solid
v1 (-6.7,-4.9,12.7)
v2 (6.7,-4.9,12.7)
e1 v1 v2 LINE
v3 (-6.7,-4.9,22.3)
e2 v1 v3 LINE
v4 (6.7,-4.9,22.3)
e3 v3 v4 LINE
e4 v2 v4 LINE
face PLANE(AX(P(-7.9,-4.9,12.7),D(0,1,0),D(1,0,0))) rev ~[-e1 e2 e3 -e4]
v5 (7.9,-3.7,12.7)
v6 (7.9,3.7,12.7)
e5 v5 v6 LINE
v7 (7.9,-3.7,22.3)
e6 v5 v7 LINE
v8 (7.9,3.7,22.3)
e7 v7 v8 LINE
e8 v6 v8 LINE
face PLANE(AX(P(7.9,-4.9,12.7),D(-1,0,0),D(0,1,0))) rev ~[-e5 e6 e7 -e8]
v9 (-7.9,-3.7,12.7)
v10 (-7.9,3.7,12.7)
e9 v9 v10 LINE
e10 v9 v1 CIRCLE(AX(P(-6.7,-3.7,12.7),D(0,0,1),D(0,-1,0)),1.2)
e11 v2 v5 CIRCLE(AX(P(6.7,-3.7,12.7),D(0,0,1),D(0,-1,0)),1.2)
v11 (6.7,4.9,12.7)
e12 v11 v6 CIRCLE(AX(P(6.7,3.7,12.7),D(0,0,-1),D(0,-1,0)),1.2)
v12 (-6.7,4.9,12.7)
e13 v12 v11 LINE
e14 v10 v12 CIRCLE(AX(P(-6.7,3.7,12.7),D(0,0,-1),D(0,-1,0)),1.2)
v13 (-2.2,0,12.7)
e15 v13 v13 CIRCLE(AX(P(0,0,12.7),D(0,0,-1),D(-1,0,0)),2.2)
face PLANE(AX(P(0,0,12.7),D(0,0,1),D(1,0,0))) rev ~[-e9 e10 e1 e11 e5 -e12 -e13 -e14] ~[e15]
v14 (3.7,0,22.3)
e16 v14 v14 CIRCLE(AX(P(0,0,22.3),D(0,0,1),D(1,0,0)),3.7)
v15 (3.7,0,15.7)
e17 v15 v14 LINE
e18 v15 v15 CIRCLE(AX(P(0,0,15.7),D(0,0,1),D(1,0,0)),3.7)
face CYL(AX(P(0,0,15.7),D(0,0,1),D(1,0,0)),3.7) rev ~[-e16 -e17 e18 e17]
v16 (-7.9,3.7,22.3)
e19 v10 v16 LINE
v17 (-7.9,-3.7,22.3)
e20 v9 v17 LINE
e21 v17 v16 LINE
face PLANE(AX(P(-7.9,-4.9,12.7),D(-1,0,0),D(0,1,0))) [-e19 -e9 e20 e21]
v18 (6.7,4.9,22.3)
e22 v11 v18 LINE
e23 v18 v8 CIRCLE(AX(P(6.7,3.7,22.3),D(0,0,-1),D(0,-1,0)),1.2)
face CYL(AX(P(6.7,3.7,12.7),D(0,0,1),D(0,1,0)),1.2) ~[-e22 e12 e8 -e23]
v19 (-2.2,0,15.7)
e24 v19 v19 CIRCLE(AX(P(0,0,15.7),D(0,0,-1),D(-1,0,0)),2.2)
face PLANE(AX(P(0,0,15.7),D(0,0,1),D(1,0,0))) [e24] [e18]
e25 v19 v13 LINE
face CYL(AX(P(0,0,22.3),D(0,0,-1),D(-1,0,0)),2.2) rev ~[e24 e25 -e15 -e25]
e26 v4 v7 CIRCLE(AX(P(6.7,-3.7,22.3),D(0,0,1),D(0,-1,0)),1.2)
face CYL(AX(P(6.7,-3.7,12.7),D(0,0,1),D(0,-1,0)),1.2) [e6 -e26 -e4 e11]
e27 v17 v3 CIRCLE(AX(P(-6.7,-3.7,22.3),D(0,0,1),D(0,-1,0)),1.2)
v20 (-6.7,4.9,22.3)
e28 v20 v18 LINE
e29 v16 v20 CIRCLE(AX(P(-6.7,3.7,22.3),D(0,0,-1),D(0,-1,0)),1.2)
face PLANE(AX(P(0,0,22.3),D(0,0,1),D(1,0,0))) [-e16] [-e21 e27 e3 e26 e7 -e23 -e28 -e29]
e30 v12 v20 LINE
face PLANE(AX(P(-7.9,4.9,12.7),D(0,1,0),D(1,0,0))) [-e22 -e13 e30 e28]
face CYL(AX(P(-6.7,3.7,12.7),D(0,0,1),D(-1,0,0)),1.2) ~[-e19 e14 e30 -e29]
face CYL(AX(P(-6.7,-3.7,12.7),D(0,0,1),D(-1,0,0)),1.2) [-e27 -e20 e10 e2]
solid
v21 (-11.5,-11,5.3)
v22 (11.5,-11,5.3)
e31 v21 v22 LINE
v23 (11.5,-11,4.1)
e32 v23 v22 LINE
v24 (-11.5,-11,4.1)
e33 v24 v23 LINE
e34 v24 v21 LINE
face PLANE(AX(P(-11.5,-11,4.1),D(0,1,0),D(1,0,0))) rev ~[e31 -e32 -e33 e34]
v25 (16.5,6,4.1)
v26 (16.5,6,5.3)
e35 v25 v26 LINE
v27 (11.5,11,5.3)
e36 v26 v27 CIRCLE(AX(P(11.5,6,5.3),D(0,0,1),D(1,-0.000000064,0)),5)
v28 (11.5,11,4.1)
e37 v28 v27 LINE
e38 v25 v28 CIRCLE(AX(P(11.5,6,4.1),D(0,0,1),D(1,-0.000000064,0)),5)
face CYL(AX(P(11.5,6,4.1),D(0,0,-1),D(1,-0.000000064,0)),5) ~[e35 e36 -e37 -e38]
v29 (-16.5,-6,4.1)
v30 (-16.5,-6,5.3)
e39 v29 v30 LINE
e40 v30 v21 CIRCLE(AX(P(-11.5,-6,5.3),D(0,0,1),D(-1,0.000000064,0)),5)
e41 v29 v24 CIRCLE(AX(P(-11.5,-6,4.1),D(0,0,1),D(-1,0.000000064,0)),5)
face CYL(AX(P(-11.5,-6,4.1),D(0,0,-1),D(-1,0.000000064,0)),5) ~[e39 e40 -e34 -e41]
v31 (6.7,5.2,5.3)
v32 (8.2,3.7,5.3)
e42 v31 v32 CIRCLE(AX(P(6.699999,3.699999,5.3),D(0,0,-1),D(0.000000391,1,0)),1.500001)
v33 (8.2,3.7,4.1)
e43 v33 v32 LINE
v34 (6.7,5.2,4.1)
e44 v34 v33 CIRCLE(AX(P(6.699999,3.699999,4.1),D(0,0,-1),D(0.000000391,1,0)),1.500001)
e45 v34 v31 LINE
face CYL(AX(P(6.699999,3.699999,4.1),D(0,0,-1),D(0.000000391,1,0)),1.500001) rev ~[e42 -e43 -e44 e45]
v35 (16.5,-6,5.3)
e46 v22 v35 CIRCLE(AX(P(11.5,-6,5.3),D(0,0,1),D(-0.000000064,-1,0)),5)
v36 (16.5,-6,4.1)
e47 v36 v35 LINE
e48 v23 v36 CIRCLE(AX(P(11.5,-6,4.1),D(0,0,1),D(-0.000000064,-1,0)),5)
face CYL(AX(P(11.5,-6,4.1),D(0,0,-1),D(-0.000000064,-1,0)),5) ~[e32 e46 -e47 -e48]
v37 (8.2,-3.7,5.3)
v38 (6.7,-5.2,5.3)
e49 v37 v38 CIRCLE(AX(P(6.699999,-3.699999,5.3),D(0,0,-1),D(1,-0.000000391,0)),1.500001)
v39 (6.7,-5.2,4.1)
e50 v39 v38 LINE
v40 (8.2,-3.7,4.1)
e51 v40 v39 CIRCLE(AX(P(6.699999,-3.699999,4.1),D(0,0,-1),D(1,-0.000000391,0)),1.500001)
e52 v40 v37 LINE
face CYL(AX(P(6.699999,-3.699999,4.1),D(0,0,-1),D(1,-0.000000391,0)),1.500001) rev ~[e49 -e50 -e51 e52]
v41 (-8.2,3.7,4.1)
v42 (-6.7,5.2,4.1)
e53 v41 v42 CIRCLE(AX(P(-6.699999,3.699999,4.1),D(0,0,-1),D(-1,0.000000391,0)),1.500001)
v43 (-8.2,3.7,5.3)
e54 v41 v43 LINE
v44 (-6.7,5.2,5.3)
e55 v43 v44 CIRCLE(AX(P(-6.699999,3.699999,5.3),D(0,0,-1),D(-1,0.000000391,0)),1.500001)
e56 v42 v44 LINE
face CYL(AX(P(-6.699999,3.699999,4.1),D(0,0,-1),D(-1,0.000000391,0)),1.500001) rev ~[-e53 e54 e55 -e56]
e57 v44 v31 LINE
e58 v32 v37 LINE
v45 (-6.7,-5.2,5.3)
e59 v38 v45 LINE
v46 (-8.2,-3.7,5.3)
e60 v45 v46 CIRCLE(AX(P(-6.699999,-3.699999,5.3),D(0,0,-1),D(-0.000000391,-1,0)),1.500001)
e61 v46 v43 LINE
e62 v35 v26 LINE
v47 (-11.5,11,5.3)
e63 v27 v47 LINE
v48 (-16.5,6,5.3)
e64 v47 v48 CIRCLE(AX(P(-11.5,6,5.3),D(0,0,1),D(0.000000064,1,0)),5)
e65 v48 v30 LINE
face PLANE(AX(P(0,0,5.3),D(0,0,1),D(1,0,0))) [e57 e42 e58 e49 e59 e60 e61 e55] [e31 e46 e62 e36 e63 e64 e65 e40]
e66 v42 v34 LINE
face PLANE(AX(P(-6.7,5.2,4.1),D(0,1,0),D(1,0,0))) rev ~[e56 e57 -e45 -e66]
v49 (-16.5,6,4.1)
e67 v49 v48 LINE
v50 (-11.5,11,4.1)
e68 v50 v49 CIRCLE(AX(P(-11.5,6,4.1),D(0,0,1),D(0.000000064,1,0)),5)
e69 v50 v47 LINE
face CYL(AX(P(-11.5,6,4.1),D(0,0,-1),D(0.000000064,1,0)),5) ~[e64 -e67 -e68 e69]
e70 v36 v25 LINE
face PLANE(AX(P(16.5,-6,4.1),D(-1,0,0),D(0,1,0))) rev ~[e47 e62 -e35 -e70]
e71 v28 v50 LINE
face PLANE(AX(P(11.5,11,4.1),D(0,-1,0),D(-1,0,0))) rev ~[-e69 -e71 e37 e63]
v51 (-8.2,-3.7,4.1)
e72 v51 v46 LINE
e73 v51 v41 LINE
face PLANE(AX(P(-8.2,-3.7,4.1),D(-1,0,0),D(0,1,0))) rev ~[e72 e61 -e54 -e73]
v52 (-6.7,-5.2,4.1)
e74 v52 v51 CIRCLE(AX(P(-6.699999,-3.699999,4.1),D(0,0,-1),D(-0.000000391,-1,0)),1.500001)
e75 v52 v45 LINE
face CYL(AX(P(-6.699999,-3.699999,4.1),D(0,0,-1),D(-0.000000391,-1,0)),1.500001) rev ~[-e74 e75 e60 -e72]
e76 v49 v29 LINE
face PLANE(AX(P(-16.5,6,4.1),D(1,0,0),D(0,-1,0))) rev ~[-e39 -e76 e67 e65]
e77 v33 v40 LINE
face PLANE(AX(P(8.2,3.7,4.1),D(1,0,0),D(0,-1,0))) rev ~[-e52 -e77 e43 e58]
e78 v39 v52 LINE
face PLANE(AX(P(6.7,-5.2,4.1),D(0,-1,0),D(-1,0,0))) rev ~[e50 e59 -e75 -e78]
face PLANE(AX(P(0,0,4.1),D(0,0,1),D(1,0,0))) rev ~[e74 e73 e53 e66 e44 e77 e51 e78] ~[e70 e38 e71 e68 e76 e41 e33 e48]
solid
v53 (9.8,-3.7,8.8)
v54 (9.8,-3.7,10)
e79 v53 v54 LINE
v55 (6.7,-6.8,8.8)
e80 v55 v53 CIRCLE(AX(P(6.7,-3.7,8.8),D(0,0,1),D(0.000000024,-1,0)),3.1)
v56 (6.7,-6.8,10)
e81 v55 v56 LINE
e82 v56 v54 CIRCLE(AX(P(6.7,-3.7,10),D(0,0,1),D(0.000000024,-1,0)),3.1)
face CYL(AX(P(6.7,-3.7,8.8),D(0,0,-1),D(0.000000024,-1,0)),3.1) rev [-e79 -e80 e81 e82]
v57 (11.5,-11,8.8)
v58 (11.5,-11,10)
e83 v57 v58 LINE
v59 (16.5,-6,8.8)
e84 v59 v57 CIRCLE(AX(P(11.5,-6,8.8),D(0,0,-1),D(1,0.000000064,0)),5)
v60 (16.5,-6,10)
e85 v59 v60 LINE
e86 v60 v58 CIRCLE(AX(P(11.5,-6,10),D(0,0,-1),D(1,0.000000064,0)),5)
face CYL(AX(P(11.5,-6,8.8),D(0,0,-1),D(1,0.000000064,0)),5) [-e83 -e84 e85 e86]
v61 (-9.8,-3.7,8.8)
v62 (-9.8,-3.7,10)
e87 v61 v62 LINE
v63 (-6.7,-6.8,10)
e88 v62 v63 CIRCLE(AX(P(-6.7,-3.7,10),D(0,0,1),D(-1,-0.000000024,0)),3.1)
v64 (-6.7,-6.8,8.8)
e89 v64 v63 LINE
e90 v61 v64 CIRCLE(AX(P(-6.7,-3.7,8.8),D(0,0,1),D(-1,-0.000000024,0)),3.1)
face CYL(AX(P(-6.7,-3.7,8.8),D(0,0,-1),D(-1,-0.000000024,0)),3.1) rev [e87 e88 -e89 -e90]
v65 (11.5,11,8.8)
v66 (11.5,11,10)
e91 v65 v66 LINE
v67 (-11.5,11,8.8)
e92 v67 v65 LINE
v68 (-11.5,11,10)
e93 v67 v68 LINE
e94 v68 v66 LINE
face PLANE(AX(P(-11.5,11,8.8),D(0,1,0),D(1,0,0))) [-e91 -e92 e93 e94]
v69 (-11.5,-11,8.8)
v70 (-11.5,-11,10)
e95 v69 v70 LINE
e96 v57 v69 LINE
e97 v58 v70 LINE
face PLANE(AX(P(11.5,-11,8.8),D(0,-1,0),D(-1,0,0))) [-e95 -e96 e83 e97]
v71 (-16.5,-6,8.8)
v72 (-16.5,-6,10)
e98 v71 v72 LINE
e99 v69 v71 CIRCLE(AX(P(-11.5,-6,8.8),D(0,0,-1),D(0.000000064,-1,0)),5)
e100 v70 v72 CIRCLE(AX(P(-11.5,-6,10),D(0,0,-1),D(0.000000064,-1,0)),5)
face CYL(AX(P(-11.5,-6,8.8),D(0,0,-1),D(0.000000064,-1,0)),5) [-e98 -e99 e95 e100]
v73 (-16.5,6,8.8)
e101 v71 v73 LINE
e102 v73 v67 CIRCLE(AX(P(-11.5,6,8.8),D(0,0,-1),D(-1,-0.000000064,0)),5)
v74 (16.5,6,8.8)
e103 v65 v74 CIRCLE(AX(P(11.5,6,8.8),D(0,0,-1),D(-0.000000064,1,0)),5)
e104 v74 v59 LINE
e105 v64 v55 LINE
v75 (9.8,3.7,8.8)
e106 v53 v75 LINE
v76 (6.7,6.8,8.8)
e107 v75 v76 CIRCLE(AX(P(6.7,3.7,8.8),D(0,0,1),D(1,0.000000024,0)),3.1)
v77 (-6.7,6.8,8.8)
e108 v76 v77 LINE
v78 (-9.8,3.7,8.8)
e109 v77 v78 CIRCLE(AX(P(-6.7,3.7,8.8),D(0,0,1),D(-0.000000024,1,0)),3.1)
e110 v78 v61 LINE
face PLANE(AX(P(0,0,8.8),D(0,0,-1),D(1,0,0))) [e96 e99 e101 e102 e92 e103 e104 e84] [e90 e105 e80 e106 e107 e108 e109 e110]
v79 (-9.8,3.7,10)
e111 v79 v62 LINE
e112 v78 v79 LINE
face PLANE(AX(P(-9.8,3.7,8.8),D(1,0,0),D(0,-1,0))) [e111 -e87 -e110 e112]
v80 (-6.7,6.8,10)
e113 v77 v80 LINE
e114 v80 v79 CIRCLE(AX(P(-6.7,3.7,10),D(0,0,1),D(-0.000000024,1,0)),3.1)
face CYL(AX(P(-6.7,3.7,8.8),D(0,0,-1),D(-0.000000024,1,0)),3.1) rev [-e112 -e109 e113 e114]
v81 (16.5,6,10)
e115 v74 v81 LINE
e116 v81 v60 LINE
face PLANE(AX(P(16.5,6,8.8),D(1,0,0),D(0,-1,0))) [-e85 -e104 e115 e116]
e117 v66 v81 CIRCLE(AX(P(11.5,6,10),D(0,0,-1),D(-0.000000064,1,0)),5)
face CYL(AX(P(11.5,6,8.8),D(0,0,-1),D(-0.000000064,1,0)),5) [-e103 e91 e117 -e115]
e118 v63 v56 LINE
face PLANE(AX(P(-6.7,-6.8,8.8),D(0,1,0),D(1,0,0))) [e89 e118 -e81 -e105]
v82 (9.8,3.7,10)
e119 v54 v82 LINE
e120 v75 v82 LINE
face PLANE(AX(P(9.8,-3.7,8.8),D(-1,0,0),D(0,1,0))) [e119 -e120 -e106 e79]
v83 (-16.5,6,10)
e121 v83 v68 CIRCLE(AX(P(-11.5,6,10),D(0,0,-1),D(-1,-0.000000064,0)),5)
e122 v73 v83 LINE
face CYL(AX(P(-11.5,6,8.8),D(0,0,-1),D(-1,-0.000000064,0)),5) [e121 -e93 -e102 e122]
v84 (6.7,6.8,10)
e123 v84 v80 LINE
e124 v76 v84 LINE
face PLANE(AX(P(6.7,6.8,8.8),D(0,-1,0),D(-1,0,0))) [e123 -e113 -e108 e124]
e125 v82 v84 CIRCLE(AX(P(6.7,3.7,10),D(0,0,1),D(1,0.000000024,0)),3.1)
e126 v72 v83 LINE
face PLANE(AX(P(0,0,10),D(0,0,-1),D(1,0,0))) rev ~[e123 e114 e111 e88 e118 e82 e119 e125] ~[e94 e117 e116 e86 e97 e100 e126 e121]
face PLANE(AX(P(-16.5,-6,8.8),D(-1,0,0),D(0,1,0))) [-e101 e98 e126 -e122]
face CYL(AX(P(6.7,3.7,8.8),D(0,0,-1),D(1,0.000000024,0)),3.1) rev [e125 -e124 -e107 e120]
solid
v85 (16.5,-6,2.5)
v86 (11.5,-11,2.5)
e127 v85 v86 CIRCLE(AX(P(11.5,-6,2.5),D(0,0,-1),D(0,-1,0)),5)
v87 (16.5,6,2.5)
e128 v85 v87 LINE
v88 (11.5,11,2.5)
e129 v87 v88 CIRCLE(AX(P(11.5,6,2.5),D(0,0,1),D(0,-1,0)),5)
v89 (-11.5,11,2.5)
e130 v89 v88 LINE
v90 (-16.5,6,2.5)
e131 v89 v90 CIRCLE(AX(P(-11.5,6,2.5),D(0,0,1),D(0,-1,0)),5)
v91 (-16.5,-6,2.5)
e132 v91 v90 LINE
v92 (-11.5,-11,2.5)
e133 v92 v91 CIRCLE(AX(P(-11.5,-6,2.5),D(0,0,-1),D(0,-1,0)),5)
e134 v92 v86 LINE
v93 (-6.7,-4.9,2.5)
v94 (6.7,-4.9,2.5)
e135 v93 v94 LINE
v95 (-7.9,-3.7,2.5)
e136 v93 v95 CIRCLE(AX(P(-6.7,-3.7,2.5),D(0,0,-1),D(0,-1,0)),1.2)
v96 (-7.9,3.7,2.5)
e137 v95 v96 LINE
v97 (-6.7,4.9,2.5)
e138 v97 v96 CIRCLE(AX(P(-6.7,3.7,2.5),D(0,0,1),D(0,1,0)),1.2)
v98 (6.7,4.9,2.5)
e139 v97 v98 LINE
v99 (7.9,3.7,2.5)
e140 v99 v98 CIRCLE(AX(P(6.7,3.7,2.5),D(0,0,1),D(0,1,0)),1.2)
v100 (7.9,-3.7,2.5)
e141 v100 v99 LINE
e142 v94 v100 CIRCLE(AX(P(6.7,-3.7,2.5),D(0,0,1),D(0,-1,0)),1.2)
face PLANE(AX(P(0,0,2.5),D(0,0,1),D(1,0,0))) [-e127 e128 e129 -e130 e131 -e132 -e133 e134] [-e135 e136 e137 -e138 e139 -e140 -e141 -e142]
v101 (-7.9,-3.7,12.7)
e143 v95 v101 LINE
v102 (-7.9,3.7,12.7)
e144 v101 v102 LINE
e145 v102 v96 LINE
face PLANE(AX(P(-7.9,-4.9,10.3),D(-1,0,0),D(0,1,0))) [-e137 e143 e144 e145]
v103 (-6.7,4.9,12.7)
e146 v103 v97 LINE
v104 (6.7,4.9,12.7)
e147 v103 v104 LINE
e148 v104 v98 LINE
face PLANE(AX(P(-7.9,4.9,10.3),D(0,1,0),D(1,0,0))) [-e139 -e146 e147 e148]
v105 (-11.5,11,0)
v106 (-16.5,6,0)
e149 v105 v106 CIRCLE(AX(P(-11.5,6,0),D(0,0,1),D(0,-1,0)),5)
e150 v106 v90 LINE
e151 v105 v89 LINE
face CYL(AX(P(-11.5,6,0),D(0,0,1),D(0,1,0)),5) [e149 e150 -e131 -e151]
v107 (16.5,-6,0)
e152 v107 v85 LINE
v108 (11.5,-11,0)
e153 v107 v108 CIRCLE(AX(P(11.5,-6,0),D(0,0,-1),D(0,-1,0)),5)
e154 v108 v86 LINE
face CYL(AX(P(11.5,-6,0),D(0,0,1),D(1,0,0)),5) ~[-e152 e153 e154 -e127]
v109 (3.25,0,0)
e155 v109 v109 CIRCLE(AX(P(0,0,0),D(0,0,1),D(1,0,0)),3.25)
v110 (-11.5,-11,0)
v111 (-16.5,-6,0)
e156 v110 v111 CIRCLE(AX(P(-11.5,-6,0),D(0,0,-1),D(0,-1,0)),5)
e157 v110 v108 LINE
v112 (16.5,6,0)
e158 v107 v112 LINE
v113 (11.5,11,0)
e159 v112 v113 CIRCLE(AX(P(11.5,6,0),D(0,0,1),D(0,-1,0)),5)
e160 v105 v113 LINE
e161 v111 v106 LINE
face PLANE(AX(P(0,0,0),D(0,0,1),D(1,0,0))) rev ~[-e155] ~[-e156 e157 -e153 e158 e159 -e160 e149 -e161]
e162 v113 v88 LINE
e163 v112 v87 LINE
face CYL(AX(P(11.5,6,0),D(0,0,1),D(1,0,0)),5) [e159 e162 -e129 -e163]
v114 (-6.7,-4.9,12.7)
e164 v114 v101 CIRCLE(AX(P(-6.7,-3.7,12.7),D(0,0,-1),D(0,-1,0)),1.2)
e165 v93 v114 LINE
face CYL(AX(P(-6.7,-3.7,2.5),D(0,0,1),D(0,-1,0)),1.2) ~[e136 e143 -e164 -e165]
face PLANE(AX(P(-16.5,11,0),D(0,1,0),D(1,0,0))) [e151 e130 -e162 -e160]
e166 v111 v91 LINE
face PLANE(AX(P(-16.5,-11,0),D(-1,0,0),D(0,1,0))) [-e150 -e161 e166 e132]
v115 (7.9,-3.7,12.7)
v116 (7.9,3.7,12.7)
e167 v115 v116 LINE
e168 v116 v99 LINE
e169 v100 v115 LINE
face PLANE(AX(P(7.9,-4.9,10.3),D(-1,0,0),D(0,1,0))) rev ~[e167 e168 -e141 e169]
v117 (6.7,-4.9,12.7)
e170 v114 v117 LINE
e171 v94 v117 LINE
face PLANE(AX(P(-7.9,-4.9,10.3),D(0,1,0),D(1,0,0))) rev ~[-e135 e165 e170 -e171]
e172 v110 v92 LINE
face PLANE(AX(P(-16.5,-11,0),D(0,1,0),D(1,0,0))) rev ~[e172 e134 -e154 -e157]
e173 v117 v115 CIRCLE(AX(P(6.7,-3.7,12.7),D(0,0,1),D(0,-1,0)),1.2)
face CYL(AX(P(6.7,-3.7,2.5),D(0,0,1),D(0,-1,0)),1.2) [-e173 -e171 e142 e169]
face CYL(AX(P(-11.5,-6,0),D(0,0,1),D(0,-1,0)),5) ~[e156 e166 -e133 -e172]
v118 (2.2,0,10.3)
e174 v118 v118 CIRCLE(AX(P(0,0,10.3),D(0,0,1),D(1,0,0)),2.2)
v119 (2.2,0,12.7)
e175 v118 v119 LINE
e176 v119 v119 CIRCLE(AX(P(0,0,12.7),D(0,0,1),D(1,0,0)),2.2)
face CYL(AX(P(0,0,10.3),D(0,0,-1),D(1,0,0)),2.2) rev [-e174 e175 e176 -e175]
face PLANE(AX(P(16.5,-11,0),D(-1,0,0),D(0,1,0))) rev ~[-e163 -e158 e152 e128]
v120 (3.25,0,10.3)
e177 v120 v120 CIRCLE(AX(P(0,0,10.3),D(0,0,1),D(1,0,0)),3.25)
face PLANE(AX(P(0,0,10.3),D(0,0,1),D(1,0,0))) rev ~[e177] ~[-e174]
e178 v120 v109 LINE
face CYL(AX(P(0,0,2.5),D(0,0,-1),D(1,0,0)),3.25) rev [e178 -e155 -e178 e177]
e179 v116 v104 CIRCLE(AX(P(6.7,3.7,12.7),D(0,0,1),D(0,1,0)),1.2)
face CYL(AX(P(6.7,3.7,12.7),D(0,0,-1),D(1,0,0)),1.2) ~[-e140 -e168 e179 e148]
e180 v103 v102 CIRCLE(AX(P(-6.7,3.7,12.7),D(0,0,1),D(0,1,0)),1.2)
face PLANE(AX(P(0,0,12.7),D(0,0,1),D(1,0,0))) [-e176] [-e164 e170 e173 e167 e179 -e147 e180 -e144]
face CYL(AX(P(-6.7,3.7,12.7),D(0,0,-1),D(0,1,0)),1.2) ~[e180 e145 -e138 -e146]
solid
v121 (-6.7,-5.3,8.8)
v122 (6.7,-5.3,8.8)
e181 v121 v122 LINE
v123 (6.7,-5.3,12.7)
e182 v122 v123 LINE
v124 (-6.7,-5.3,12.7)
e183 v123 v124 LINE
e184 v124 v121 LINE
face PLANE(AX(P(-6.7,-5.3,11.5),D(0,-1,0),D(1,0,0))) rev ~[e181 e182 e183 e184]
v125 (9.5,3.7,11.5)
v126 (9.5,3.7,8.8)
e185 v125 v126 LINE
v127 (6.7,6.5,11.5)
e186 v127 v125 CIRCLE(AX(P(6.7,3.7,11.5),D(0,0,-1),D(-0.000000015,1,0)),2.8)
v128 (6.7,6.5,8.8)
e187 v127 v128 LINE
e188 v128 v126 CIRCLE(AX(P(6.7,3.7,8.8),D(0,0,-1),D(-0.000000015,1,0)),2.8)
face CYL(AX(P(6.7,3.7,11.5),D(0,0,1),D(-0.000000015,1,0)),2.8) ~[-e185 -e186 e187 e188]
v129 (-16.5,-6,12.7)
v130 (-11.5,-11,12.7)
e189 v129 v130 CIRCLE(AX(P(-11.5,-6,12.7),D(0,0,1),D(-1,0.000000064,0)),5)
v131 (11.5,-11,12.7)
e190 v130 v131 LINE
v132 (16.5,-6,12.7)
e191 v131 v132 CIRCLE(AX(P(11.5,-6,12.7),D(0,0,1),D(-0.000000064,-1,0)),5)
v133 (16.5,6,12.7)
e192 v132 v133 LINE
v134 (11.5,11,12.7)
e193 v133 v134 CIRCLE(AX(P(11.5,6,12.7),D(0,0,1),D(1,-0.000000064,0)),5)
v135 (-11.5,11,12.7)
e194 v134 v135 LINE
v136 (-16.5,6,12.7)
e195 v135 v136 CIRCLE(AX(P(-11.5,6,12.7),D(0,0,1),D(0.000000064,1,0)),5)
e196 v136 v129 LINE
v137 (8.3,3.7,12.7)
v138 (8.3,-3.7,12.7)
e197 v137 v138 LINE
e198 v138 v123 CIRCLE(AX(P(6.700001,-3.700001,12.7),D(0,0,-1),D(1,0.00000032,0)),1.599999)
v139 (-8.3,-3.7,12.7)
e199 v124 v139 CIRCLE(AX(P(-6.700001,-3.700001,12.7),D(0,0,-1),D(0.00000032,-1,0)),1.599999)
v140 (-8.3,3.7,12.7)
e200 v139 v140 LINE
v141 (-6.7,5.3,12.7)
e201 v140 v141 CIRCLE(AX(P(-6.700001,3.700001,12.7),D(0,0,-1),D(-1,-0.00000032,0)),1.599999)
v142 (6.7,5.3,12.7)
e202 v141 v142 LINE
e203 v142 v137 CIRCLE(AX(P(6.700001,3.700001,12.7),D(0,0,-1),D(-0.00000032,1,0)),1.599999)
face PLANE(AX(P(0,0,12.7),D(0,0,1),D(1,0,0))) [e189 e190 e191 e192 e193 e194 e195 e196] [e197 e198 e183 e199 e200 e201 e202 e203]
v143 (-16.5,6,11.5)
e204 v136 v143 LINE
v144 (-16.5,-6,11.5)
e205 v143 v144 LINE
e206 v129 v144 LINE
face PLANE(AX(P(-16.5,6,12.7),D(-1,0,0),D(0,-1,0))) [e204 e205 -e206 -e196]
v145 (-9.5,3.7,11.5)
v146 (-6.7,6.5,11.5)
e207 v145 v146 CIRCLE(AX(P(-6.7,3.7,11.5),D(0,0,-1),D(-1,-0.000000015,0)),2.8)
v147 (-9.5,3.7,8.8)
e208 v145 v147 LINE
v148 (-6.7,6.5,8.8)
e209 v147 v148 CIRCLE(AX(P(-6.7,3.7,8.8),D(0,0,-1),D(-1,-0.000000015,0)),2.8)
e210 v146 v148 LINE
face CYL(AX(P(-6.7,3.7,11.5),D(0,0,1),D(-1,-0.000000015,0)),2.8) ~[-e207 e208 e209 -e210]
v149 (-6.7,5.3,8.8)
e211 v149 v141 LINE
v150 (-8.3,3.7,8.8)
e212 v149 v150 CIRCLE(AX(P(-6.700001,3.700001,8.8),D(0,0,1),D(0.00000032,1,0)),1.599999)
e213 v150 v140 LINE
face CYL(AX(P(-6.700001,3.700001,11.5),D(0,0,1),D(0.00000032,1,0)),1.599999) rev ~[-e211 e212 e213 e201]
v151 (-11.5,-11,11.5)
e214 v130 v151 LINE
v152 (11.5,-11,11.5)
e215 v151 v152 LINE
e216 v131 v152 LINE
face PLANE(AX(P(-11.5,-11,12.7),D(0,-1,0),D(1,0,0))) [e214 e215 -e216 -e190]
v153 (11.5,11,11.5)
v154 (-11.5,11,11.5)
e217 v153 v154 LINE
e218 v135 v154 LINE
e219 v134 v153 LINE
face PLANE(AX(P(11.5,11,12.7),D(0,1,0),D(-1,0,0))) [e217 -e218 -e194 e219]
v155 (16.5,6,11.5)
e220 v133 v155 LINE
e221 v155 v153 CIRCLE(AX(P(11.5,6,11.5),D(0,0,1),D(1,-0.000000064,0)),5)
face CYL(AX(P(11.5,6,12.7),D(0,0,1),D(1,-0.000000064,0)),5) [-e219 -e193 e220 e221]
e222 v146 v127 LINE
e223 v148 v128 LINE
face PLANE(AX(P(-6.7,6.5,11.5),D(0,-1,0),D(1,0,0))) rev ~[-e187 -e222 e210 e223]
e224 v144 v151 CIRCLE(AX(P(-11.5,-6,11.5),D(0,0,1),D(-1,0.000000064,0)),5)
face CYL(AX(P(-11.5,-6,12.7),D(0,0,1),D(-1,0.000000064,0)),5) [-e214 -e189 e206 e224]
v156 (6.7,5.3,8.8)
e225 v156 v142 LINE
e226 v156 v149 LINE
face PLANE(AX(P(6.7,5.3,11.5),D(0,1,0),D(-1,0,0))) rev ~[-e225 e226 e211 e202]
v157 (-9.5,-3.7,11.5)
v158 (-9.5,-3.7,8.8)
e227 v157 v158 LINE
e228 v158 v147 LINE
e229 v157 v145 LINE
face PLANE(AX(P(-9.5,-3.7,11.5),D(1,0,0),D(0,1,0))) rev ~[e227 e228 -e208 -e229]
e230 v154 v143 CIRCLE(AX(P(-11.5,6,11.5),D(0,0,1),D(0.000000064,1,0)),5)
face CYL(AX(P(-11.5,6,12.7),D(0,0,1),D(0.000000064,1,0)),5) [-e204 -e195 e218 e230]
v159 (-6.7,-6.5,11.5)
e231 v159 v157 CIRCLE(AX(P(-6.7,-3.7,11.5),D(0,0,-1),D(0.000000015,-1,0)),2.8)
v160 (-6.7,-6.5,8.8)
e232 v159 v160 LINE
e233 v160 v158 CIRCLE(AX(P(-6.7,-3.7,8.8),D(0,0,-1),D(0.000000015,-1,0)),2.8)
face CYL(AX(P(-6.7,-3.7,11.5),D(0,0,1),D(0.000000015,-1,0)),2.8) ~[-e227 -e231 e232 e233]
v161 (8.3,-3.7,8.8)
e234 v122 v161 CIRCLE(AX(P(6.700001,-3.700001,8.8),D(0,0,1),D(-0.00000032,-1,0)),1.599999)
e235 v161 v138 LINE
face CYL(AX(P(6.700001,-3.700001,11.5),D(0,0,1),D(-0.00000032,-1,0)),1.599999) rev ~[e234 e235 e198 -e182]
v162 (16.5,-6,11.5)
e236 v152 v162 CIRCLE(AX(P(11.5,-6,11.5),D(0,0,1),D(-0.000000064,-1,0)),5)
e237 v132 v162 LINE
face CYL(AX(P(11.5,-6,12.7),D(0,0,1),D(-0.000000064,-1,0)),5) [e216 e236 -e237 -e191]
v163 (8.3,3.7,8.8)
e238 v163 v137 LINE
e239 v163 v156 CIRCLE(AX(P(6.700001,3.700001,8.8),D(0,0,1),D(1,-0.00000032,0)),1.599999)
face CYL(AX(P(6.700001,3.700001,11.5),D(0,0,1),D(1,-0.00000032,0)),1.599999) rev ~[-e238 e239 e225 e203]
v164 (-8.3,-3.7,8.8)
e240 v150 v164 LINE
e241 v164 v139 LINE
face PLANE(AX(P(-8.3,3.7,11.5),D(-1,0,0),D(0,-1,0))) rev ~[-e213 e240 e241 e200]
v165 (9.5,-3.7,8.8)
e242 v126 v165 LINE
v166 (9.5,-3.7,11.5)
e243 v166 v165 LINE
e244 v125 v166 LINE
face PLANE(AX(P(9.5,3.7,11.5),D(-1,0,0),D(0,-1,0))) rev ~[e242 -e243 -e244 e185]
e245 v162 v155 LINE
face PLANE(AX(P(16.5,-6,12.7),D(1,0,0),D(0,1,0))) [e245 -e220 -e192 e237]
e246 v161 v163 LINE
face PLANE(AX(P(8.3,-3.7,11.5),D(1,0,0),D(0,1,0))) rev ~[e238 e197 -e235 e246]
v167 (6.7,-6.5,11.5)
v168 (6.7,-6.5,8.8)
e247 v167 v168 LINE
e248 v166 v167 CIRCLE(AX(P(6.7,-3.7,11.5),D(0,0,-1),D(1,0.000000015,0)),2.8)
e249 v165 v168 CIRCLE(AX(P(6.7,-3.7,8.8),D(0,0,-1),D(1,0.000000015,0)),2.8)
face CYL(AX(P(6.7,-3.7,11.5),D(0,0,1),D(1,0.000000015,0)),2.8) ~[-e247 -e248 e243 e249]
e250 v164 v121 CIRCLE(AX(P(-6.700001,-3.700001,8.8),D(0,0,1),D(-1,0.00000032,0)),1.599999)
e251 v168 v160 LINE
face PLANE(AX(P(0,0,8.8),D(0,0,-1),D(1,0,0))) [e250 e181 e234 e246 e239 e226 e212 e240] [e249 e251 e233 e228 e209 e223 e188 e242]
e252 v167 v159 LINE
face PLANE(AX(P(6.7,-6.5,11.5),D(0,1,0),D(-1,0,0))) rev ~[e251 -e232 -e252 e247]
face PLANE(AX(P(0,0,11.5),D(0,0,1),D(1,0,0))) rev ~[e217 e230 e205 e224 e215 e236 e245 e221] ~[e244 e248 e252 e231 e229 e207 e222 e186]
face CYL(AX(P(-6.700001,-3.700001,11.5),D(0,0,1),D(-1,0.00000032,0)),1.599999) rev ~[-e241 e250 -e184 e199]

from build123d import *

# Parameters (mm, degrees)
F0_W           = 33
F0_H           = 22
F0_R           = 3.25
F1_DEPTH       = 2.5
F2_W           = 15.8
F2_H           = 9.8
F2_R           = 3.25
F3_DEPTH       = 7.8
F4_W           = 15.8
F4_H           = 9.8
F4_R           = 2.2
F5_DEPTH       = 2.4
F6_W           = 15.8
F6_H           = 9.8
F7_DEPTH       = 9.6
F9_D           = 4.4
F9_CBORE_D     = 7.4
F9_CBORE_DEPTH = 6.6
F10_R          = 5
F11_R          = 1.2
F11_2_R        = 1.2
F13_DEPTH      = 1.2
F15_DEPTH      = 2.7
F17_DEPTH      = 1.2
F20_DEPTH      = 1.2


with BuildPart() as f1:
    # F0 (on Top) → F1 (new body)
    with BuildSketch(Plane.XY):
        Rectangle(F0_W, F0_H)
        Circle(F0_R, mode=Mode.SUBTRACT)
    extrude(amount=F1_DEPTH)

    # F2 (on face) → F3 (join)
    with BuildSketch(Plane.XY.offset(2.5)):
        Rectangle(F2_W, F2_H)
        Circle(F2_R, mode=Mode.SUBTRACT)
    extrude(amount=F3_DEPTH)

    # F4 (on face) → F5 (join)
    with BuildSketch(Plane.XY.offset(10.3)):
        Rectangle(F4_W, F4_H)
        Circle(F4_R, mode=Mode.SUBTRACT)
    extrude(amount=F5_DEPTH)

    # F10
    f10_edges = [f1.edges().sort_by_distance(p)[0] for p in [
        (16.5, -11, 1.25),
        (16.5, 11, 1.25),
        (-16.5, -11, 1.25),
        (-16.5, 11, 1.25),
    ]]
    fillet(f10_edges, radius=F10_R)

    # F11
    f11_edges = [f1.edges().sort_by_distance(p)[0] for p in [
        (-7.9, 4.9, 7.6),
        (-7.9, -4.9, 7.6),
        (7.9, 4.9, 7.6),
        (7.9, -4.9, 7.6),
    ]]
    fillet(f11_edges, radius=F11_R)


with BuildPart() as f7:
    # F6 (on face) → F7 (new body)
    with BuildSketch(Plane.XY.offset(12.7)):
        Rectangle(F6_W, F6_H)
    extrude(amount=F7_DEPTH)

    # F9 (through all)
    with Locations(Plane.XY.offset(22.3)):
        with Locations((0, 0)):
            CounterBoreHole(F9_D / 2, F9_CBORE_D / 2, F9_CBORE_DEPTH)

    # F11#2
    f11_2_edges = [f7.edges().sort_by_distance(p)[0] for p in [
        (7.9, 4.9, 17.5),
        (7.9, -4.9, 17.5),
        (-7.9, 4.9, 17.5),
        (-7.9, -4.9, 17.5),
    ]]
    fillet(f11_2_edges, radius=F11_2_R)


with BuildPart() as f13:
    # F12 (on face) → F13 (new body)
    with BuildSketch(Plane.XY.offset(12.7)):
        with BuildLine():
            Line((11.5, 11), (-11.5, 11))
            ThreePointArc((-11.5, 11), (-15.035534, 9.535534), (-16.5, 6))
            Line((-16.5, 6), (-16.5, -6))
            ThreePointArc((-16.5, -6), (-15.035534, -9.535534), (-11.5, -11))
            Line((-11.5, -11), (11.5, -11))
            ThreePointArc((11.5, -11), (15.035534, -9.535534), (16.5, -6))
            Line((16.5, -6), (16.5, 6))
            ThreePointArc((16.5, 6), (15.035534, 9.535534), (11.5, 11))
        make_face()
        with BuildLine():
            Line((-6.7, 5.3), (6.7, 5.3))
            ThreePointArc((6.7, 5.3), (7.831371, 4.831371), (8.3, 3.7))
            Line((8.3, 3.7), (8.3, -3.7))
            ThreePointArc((8.3, -3.7), (7.831371, -4.831371), (6.7, -5.3))
            Line((6.7, -5.3), (-6.7, -5.3))
            ThreePointArc((-6.7, -5.3), (-7.831371, -4.831371), (-8.3, -3.7))
            Line((-8.3, -3.7), (-8.3, 3.7))
            ThreePointArc((-8.3, 3.7), (-7.831371, 4.831371), (-6.7, 5.3))
        make_face(mode=Mode.SUBTRACT)
    extrude(amount=-F13_DEPTH)

    # F14 (on face) → F15 (join)
    with BuildSketch(Plane(origin=(0, 0, 11.5), x_dir=(1, 0, 0), z_dir=(0, 0, -1))):
        with BuildLine():
            ThreePointArc((-6.7, 6.5), (-8.679899, 5.679899), (-9.5, 3.7))
            Line((-9.5, 3.7), (-9.5, -3.7))
            ThreePointArc((-9.5, -3.7), (-8.679899, -5.679899), (-6.7, -6.5))
            Line((-6.7, -6.5), (6.7, -6.5))
            ThreePointArc((6.7, -6.5), (8.679899, -5.679899), (9.5, -3.7))
            Line((9.5, -3.7), (9.5, 3.7))
            ThreePointArc((9.5, 3.7), (8.679899, 5.679899), (6.7, 6.5))
            Line((6.7, 6.5), (-6.7, 6.5))
        make_face()
        with BuildLine():
            Line((-6.7, 5.3), (6.7, 5.3))
            ThreePointArc((6.7, 5.3), (7.831371, 4.831371), (8.3, 3.7))
            Line((8.3, 3.7), (8.3, -3.7))
            ThreePointArc((8.3, -3.7), (7.831371, -4.831371), (6.7, -5.3))
            Line((6.7, -5.3), (-6.7, -5.3))
            ThreePointArc((-6.7, -5.3), (-7.831371, -4.831371), (-8.3, -3.7))
            Line((-8.3, -3.7), (-8.3, 3.7))
            ThreePointArc((-8.3, 3.7), (-7.831371, 4.831371), (-6.7, 5.3))
        make_face(mode=Mode.SUBTRACT)
    extrude(amount=F15_DEPTH)


with BuildPart() as f17:
    # F16 (on face) → F17 (new body)
    with BuildSketch(Plane(origin=(0, 0, 8.8), x_dir=(1, 0, 0), z_dir=(0, 0, -1))):
        with BuildLine():
            ThreePointArc((-11.5, 11), (-15.035534, 9.535534), (-16.5, 6))
            Line((-16.5, 6), (-16.5, -6))
            ThreePointArc((-16.5, -6), (-15.035534, -9.535534), (-11.5, -11))
            Line((-11.5, -11), (11.5, -11))
            ThreePointArc((11.5, -11), (15.035534, -9.535534), (16.5, -6))
            Line((16.5, -6), (16.5, 6))
            ThreePointArc((16.5, 6), (15.035534, 9.535534), (11.5, 11))
            Line((11.5, 11), (-11.5, 11))
        make_face()
        with BuildLine():
            Line((-6.7, 6.8), (6.7, 6.8))
            ThreePointArc((6.7, 6.8), (8.892031, 5.892031), (9.8, 3.7))
            Line((9.8, 3.7), (9.8, -3.7))
            ThreePointArc((9.8, -3.7), (8.892031, -5.892031), (6.7, -6.8))
            Line((6.7, -6.8), (-6.7, -6.8))
            ThreePointArc((-6.7, -6.8), (-8.892031, -5.892031), (-9.8, -3.7))
            Line((-9.8, -3.7), (-9.8, 3.7))
            ThreePointArc((-9.8, 3.7), (-8.892031, 5.892031), (-6.7, 6.8))
        make_face(mode=Mode.SUBTRACT)
    extrude(amount=-F17_DEPTH)


with BuildPart() as f20:
    # F19 (on offset) → F20 (new body)
    with BuildSketch(Plane.XY.offset(4.1)):
        with BuildLine():
            Line((11.5, 11), (-11.5, 11))
            ThreePointArc((-11.5, 11), (-15.035534, 9.535534), (-16.5, 6))
            Line((-16.5, 6), (-16.5, -6))
            ThreePointArc((-16.5, -6), (-15.035534, -9.535534), (-11.5, -11))
            Line((-11.5, -11), (11.5, -11))
            ThreePointArc((11.5, -11), (15.035534, -9.535534), (16.5, -6))
            Line((16.5, -6), (16.5, 6))
            ThreePointArc((16.5, 6), (15.035534, 9.535534), (11.5, 11))
        make_face()
        with BuildLine():
            Line((-6.7, 5.2), (6.7, 5.2))
            ThreePointArc((6.7, 5.2), (7.76066, 4.76066), (8.2, 3.7))
            Line((8.2, 3.7), (8.2, -3.7))
            ThreePointArc((8.2, -3.7), (7.76066, -4.76066), (6.7, -5.2))
            Line((6.7, -5.2), (-6.7, -5.2))
            ThreePointArc((-6.7, -5.2), (-7.76066, -4.76066), (-8.2, -3.7))
            Line((-8.2, -3.7), (-8.2, 3.7))
            ThreePointArc((-8.2, 3.7), (-7.76066, 4.76066), (-6.7, 5.2))
        make_face(mode=Mode.SUBTRACT)
    extrude(amount=F20_DEPTH)


solid = Compound([f1.part, f7.part, f13.part, f17.part, f20.part])
